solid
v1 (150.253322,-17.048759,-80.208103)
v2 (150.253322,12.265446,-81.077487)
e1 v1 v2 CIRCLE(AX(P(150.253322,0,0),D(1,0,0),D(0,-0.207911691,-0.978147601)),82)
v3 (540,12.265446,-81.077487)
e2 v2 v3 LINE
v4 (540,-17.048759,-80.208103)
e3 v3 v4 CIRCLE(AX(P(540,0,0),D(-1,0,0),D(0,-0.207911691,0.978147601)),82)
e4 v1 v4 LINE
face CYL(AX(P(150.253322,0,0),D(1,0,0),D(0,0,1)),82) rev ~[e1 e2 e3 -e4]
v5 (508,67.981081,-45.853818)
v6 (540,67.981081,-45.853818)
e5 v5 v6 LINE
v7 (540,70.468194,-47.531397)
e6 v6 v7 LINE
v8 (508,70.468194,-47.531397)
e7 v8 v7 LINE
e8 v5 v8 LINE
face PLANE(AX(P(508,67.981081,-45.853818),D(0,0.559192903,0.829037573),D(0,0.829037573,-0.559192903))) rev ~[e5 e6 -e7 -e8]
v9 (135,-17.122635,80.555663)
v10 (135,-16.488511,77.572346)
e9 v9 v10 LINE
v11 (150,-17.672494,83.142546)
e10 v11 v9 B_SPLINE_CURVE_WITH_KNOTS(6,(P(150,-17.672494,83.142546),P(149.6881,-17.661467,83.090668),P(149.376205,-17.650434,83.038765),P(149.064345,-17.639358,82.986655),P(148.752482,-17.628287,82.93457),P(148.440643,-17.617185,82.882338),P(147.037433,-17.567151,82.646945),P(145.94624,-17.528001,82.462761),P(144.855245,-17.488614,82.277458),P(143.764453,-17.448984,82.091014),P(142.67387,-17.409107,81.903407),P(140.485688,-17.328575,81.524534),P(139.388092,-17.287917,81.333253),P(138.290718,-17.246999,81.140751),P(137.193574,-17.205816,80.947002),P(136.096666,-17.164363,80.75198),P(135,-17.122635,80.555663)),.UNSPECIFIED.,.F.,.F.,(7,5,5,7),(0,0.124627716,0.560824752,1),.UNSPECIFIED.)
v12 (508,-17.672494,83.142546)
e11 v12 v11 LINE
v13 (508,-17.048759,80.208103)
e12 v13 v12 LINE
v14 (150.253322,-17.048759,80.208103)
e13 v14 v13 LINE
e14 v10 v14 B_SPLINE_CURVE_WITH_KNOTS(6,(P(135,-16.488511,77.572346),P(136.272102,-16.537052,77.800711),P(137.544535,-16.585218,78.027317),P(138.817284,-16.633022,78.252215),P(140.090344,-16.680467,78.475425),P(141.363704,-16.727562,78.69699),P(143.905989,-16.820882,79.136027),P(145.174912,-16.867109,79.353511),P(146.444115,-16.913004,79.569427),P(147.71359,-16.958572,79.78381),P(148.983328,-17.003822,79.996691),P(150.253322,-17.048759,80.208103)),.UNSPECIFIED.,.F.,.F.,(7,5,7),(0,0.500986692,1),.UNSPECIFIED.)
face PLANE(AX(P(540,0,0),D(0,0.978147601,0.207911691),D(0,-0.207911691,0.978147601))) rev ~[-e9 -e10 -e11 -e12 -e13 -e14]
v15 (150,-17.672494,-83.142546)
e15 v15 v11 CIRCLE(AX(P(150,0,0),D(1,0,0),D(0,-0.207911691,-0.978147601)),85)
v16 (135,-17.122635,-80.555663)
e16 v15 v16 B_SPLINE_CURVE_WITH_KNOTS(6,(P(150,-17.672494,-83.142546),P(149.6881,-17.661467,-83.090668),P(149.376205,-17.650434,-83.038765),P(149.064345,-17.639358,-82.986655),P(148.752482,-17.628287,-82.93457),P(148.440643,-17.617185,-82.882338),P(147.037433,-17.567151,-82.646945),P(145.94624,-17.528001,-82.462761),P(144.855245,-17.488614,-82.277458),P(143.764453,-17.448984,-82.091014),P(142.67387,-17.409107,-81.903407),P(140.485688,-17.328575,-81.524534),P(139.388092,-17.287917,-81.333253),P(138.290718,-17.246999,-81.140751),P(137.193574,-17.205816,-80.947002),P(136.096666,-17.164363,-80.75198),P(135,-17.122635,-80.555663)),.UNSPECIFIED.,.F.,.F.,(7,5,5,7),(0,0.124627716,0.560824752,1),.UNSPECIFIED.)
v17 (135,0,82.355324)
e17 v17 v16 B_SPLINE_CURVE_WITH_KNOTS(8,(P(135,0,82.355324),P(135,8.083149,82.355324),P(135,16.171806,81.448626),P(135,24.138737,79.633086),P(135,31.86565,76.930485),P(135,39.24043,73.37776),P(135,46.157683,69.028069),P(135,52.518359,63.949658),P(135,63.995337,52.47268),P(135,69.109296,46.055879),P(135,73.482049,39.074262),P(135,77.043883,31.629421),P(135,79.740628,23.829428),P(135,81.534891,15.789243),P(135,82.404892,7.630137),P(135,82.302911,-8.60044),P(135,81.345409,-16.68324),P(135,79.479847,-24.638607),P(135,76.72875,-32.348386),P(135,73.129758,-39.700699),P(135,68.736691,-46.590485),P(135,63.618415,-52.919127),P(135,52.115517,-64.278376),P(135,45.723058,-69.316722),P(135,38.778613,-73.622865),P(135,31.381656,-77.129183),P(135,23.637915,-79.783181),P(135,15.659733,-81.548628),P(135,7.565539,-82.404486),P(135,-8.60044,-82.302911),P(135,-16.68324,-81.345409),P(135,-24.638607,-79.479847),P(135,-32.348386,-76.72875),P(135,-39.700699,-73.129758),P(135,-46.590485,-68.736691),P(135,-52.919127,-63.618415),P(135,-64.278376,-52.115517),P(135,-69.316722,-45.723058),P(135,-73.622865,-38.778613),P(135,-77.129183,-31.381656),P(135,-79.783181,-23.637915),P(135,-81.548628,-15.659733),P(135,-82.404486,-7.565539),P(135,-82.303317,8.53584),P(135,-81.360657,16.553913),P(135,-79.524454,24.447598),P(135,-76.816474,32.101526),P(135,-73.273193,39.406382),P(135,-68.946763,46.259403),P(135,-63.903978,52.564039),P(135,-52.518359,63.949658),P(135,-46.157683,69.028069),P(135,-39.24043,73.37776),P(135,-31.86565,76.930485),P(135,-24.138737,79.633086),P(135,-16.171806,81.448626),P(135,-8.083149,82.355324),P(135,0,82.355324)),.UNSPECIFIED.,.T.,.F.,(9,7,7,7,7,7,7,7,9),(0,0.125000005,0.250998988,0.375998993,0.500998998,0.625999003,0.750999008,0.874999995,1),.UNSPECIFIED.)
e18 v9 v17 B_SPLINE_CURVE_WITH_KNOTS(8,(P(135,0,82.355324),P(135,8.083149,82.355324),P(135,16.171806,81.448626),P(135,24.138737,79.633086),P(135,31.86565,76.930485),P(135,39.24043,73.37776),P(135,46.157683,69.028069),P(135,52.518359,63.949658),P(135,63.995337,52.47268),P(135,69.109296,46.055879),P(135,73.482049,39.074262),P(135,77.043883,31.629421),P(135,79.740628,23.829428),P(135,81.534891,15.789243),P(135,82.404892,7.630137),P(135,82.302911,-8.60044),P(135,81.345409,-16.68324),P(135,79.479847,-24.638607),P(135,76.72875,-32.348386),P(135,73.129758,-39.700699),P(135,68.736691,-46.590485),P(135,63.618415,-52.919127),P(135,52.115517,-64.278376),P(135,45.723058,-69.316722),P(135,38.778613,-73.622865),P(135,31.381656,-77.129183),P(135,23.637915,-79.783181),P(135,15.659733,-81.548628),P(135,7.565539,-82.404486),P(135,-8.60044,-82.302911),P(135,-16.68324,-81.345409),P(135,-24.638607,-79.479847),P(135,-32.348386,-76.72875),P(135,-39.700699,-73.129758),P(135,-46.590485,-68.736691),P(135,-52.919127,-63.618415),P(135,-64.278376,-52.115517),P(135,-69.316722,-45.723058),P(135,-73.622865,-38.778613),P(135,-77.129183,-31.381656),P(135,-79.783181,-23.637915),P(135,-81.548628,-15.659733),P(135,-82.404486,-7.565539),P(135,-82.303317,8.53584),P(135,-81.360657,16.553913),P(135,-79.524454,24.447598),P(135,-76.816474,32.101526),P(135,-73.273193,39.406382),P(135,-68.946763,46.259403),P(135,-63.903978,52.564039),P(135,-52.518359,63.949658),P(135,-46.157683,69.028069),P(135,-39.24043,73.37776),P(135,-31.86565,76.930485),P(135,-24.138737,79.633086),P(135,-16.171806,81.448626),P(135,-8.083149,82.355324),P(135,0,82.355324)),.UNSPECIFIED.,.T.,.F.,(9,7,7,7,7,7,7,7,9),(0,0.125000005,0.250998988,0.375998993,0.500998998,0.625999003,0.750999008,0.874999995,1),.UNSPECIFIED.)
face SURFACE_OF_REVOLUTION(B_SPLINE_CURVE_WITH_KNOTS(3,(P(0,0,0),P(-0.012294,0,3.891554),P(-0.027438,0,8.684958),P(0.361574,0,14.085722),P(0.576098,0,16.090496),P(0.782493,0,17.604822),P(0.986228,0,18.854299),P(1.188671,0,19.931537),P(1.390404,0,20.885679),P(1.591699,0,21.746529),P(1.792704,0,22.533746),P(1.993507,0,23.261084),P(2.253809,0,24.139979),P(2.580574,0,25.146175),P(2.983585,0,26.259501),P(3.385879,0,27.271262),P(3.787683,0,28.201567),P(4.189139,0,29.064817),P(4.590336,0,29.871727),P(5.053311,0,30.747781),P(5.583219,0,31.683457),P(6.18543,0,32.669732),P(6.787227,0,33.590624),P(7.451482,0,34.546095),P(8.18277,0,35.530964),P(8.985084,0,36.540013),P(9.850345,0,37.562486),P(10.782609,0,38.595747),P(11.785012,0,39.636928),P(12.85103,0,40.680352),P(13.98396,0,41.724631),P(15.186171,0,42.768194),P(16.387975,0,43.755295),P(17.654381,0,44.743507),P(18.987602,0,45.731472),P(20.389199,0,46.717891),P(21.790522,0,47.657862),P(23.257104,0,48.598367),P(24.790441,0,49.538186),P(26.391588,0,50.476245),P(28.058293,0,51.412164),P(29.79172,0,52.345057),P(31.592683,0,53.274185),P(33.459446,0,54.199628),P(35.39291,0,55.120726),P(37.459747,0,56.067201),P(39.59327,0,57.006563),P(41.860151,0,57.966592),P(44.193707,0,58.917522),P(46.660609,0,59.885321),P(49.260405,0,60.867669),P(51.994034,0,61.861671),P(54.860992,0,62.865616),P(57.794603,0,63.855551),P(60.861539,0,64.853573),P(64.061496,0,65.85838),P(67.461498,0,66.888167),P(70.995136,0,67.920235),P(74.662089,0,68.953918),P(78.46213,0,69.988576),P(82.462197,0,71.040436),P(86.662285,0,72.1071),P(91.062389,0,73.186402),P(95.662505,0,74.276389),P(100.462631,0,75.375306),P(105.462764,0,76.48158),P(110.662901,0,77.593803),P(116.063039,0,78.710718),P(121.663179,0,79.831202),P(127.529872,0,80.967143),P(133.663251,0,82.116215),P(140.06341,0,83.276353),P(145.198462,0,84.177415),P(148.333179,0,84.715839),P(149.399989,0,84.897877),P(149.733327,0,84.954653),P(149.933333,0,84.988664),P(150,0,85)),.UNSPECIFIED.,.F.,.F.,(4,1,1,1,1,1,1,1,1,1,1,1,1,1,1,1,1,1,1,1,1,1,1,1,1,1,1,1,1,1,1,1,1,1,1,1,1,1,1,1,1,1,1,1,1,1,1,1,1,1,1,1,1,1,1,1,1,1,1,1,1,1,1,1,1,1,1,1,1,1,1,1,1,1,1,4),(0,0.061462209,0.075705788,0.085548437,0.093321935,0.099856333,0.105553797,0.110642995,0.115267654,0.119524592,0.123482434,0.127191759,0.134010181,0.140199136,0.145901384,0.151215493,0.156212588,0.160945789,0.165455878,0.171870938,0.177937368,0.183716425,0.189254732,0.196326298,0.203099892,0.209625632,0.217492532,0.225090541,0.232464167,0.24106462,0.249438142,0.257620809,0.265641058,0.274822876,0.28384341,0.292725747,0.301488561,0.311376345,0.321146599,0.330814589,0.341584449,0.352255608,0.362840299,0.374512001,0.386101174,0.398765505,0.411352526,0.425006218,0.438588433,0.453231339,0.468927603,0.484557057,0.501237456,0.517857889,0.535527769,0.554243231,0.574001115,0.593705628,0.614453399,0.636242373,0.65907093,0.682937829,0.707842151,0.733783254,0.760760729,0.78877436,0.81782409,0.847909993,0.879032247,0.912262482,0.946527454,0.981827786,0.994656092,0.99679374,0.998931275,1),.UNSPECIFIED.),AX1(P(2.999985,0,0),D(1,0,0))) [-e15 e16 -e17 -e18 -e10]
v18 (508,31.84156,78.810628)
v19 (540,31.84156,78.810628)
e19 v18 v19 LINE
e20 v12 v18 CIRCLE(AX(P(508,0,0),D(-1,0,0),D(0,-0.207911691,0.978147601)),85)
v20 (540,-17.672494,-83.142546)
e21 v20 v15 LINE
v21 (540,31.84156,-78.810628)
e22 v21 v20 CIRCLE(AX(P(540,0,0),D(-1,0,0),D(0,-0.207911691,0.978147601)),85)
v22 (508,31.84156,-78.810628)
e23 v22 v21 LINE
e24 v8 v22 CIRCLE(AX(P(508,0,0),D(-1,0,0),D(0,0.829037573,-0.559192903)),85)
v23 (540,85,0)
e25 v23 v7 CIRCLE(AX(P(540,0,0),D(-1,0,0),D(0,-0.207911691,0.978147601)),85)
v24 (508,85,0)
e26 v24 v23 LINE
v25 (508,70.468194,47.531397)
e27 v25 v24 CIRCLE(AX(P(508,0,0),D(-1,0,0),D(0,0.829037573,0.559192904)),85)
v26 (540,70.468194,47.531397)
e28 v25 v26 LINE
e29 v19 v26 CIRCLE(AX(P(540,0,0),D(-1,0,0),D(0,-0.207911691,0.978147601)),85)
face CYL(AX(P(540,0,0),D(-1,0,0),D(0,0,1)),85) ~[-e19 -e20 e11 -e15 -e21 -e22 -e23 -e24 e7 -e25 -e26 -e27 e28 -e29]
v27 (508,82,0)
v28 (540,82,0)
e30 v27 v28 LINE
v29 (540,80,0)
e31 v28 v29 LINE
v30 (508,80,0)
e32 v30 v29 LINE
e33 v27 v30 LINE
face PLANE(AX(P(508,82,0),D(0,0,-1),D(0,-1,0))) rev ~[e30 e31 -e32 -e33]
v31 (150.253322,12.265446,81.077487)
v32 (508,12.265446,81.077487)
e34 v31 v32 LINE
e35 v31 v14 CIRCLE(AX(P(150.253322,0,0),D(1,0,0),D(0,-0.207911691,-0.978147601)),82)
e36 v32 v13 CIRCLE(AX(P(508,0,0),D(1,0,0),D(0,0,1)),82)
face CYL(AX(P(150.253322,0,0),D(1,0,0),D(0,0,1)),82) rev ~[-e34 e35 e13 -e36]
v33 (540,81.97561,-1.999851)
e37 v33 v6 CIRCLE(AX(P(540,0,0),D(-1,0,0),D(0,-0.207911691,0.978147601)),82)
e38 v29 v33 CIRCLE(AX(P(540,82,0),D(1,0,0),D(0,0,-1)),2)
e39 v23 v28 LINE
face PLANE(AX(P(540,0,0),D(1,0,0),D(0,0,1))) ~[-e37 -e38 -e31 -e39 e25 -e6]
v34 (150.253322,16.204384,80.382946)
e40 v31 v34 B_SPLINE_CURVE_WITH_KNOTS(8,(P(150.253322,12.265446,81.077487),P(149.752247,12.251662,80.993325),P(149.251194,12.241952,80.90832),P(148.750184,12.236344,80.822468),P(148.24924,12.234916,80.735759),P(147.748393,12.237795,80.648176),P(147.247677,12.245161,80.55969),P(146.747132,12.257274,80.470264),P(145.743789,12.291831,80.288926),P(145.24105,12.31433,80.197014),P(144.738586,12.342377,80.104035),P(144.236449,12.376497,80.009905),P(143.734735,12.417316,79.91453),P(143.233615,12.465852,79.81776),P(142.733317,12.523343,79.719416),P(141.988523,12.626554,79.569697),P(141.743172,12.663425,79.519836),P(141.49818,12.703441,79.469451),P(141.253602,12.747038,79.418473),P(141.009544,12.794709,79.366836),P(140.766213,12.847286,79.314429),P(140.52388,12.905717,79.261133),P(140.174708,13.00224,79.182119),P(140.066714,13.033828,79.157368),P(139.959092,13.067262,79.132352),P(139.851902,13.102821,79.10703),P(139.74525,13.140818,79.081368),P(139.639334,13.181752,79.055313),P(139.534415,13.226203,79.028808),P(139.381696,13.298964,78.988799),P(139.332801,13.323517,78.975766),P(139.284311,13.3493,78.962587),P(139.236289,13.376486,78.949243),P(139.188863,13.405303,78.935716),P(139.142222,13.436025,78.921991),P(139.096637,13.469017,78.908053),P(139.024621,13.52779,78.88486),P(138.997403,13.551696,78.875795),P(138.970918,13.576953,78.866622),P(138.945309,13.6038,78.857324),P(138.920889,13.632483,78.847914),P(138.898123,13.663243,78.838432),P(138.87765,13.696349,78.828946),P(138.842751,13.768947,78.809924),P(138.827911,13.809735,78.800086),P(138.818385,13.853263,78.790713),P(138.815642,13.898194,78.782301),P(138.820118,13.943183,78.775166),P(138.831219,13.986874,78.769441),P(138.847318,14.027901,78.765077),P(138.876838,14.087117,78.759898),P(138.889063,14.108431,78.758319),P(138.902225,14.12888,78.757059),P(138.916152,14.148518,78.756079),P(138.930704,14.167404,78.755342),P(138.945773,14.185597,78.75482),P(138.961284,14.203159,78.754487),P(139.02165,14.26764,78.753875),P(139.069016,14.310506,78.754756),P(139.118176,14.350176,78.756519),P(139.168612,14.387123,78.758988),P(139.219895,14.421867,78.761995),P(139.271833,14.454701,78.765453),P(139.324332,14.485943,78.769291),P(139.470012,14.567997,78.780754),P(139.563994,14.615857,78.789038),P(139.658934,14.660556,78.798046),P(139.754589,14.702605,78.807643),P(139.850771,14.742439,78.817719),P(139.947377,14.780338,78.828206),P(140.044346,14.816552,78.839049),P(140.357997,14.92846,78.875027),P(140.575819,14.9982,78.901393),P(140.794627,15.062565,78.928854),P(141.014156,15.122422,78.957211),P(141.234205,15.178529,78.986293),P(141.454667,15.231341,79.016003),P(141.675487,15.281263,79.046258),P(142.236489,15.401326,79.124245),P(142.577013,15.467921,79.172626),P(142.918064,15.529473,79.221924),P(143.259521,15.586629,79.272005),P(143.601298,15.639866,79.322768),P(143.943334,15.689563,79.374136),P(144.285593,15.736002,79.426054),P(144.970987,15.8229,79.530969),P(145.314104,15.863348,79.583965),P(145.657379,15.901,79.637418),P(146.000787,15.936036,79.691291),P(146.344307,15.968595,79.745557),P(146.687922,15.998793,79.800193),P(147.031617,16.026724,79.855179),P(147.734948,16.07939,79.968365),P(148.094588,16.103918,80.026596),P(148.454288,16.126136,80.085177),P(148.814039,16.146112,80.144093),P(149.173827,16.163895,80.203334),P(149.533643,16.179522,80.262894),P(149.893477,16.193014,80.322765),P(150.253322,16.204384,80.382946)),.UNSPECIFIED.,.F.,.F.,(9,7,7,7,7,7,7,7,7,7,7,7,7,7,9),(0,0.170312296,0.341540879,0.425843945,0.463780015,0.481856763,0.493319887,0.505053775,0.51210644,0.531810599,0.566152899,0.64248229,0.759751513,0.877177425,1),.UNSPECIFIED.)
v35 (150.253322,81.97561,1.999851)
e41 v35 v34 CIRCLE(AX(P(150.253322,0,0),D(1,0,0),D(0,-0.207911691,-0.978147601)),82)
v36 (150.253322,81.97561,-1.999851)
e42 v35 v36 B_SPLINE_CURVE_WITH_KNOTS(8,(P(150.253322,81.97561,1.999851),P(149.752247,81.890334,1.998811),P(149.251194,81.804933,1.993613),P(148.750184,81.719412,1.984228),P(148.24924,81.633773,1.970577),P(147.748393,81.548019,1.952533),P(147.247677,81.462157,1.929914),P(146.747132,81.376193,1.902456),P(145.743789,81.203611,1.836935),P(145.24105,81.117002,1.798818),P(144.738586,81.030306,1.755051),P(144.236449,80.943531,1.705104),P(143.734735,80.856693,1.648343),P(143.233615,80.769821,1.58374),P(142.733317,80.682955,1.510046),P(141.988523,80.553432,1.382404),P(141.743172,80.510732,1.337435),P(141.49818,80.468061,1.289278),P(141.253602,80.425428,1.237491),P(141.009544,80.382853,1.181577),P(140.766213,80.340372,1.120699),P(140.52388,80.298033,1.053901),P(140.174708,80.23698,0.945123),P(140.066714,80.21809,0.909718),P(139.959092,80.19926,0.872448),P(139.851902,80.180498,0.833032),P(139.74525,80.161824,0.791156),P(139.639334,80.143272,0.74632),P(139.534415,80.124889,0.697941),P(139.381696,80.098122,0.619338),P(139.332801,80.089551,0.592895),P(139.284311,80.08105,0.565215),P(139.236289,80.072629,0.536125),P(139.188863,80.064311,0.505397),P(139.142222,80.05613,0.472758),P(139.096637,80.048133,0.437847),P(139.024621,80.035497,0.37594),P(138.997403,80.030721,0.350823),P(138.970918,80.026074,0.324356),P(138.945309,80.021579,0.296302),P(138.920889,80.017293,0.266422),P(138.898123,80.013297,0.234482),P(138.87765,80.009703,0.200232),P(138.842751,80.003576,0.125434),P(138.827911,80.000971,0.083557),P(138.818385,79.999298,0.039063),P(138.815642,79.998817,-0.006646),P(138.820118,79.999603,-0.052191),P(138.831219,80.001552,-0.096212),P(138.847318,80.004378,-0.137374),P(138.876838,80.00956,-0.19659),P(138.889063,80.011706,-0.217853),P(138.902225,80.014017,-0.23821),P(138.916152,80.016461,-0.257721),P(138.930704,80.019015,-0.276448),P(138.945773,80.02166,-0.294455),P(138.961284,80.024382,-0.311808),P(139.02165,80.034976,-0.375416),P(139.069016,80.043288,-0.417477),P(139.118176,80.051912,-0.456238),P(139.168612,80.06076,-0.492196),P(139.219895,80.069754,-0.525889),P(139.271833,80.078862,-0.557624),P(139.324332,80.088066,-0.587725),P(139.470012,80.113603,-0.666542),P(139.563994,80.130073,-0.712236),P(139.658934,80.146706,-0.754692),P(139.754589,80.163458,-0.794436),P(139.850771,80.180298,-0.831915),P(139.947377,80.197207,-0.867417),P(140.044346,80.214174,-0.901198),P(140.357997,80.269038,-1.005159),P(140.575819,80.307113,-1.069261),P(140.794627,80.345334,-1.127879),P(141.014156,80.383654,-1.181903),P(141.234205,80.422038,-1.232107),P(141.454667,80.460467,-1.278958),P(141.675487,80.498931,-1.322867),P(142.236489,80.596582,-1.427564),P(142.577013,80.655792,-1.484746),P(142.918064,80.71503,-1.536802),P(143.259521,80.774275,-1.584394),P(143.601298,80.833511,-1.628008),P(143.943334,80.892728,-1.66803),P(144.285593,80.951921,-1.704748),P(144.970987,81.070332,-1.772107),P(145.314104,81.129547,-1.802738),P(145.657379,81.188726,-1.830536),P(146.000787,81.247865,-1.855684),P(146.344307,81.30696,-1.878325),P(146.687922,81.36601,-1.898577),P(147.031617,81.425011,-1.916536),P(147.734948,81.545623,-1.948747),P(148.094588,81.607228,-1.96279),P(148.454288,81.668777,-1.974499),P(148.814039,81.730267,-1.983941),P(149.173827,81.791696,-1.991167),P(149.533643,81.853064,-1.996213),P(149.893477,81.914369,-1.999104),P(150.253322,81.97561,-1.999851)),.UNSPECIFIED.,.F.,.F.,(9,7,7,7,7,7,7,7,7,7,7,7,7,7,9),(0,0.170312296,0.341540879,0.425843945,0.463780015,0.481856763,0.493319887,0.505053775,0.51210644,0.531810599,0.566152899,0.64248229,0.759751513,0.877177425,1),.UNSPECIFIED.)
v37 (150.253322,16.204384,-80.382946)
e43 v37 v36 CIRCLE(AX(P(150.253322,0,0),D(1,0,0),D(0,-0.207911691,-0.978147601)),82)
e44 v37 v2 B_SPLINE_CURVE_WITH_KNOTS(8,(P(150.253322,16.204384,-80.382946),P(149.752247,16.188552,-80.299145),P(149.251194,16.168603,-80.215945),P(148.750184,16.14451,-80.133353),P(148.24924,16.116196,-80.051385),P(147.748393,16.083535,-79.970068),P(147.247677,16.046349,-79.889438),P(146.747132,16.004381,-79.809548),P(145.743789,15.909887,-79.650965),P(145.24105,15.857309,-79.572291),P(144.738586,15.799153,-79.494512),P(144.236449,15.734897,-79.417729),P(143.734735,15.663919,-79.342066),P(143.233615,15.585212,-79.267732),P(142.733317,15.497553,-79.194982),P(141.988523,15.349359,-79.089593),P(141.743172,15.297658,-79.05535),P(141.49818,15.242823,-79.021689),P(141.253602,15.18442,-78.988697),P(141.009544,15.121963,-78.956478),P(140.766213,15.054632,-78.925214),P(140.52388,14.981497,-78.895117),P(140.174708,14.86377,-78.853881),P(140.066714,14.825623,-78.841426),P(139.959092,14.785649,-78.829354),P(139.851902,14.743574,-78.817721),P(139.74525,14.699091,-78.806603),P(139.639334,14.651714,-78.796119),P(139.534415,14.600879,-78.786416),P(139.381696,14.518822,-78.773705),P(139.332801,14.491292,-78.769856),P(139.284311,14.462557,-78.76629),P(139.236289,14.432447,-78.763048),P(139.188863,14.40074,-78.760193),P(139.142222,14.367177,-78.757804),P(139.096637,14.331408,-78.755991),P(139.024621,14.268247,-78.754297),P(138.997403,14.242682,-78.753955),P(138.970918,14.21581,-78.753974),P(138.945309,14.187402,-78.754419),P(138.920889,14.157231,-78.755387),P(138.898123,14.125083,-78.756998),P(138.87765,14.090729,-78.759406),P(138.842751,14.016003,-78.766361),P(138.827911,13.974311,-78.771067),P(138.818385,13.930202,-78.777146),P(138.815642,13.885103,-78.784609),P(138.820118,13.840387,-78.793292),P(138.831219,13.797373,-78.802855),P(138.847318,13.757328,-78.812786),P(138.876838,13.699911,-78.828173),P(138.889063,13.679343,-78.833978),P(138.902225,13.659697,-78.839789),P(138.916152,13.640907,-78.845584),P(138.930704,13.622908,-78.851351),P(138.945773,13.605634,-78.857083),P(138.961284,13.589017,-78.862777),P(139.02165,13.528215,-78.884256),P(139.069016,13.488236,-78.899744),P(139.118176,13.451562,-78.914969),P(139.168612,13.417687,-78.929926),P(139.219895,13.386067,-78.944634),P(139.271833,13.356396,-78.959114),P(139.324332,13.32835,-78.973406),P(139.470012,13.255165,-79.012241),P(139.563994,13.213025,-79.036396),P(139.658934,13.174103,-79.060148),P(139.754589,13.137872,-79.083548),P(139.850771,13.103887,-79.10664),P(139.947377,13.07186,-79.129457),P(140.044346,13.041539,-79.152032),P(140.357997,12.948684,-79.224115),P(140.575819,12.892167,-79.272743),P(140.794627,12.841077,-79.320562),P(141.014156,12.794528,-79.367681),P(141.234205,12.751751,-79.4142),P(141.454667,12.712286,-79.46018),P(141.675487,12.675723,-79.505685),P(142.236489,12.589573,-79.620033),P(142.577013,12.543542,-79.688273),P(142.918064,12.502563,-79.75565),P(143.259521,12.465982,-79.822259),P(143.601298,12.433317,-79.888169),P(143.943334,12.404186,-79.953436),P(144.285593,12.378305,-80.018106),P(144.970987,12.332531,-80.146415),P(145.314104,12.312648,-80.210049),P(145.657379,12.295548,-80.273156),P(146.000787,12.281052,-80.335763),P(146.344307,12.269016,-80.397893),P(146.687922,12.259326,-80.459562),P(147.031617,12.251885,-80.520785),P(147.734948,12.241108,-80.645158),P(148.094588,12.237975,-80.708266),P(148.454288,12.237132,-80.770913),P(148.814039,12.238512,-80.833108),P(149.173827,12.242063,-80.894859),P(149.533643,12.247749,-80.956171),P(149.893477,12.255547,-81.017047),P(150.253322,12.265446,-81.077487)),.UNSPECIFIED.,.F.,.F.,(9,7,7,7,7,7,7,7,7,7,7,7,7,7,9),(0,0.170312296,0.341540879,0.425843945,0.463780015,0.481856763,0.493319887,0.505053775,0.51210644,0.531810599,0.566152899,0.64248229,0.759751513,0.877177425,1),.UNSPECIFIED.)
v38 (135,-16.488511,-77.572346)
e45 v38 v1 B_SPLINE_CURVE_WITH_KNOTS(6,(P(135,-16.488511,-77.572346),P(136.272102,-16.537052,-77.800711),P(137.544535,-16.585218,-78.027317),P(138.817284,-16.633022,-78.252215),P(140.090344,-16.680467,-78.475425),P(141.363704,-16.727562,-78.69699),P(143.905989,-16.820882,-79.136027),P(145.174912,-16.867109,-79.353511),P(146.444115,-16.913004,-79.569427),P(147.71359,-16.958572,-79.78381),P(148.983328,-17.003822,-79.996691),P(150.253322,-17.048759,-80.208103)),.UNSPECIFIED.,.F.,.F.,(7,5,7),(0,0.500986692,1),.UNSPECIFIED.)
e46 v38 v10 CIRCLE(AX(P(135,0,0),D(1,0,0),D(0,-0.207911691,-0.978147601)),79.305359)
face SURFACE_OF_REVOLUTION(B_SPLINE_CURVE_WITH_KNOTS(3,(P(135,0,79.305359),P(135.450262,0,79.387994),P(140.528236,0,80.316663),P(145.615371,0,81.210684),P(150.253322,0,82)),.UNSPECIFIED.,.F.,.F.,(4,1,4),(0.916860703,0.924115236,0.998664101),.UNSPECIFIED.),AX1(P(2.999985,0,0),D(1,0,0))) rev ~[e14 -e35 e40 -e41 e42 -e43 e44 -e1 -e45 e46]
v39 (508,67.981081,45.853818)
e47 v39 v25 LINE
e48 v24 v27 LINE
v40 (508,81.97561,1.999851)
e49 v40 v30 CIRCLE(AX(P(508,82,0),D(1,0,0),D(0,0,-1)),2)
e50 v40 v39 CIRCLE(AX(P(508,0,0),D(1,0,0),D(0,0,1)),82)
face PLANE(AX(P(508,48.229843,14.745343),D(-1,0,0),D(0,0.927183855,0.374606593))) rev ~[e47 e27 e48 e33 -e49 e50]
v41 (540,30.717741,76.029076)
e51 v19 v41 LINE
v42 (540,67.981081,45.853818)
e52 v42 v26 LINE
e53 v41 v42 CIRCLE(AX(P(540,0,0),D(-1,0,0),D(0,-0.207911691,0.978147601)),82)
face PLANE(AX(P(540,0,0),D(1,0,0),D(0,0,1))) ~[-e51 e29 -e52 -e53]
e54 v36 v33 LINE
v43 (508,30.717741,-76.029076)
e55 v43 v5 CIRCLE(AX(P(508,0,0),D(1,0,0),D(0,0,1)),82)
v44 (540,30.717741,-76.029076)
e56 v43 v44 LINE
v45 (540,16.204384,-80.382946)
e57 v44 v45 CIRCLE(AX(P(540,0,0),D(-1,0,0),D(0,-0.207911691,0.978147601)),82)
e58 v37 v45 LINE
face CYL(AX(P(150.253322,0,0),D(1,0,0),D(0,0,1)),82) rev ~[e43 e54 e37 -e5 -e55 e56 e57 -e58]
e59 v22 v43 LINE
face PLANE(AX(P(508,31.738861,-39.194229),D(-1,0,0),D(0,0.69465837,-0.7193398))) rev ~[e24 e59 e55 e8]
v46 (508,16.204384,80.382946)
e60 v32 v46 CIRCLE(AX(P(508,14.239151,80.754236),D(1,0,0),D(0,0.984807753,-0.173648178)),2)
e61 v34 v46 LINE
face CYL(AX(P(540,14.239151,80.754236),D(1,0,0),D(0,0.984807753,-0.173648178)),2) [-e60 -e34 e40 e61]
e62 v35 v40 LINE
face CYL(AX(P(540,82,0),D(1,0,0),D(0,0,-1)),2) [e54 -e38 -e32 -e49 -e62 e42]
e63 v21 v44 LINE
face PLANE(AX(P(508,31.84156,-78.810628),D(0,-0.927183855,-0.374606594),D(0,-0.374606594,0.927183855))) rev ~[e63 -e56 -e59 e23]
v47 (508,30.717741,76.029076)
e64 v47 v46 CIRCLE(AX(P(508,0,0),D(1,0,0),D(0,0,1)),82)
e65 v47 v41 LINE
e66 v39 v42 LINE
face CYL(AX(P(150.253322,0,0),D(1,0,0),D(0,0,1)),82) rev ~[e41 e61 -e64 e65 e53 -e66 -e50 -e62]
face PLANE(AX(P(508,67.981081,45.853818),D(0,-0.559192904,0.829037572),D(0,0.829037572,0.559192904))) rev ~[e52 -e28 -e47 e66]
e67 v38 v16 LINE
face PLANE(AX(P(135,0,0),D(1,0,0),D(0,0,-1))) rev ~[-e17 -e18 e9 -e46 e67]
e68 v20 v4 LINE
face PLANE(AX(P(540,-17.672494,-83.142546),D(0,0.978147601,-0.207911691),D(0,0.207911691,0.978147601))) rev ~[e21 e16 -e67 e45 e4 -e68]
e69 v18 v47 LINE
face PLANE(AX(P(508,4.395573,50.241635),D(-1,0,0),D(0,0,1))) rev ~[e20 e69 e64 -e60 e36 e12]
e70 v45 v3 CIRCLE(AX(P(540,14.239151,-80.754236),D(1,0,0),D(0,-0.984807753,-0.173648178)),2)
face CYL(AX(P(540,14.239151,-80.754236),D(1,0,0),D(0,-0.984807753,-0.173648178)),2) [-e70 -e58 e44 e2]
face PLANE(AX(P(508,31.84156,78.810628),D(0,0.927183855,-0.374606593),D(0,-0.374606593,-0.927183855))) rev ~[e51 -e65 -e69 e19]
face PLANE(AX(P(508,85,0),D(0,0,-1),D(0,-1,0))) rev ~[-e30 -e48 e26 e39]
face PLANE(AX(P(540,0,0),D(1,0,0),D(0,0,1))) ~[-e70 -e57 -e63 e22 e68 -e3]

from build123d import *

# Parameters (mm, degrees)
CUT_EXTRUDE4_REACH              = 555.223
CUT_EXTRUDE1_DEPTH              = 5
BOSS_EXTRUDE1_REACH             = 555.223
SKETCH10_R                      = 2
CIRPATTERN1_COUNT               = 2
CIRPATTERN1_ANGLE               = 80
CIRPATTERN1_THE_OTHER_WAY_COUNT = 2
CIRPATTERN1_THE_OTHER_WAY_ANGLE = 80
F_2_0MM_DOWEL_HOLE1_D           = 2
F_2_0MM_DOWEL_HOLE1_ON_FACE_2_D = 2
F_2_0MM_DOWEL_HOLE1_ON_FACE_3_D = 2
F_2_0MM_DOWEL_HOLE1_ON_FACE_4_D = 2
CUT_EXTRUDE5_START              = -32
CUT_EXTRUDE5_DEPTH              = 32
CIRPATTERN2_COUNT               = 3
CIRPATTERN2_ANGLE               = 136
SKETCH19_R                      = 118.982211047
CUT_EXTRUDE6_DEPTH              = 180


with BuildPart() as part:
    # Sketch1 → Revolve5 (revolve)
    with BuildSketch(Plane.XY, mode=Mode.PRIVATE) as revolve5_sk:
        with BuildLine():
            Line((540, 85), (150, 85))
            add(Edge.make_bspline(
                [(0, 0), (-0.012294225, 3.891554312), (-0.027437579, 8.684958126), (0.361573767, 14.085722357), (0.576098453, 16.090496183), (0.782493435, 17.604822189), (0.986227589, 18.854298664), (1.188670863, 19.931536976), (1.390404268, 20.885679324), (1.591698837, 21.746529091), (1.792703864, 22.533746067), (1.993507167, 23.261083862), (2.253808552, 24.139979457), (2.580573656, 25.146175179), (2.983585386, 26.259501153), (3.385879093, 27.271261727), (3.787683439, 28.201566994), (4.189138614, 29.064817448), (4.590335615, 29.871726974), (5.05331092, 30.74778076), (5.583218589, 31.683457084), (6.185429632, 32.669732492), (6.787226927, 33.590624245), (7.451481511, 34.546094958), (8.182770444, 35.530963646), (8.985083876, 36.540013411), (9.850344603, 37.562485558), (10.782608842, 38.595746542), (11.785011743, 39.636928062), (12.851029789, 40.680352273), (13.983960321, 41.72463117), (15.186170623, 42.768194245), (16.387975322, 43.755294725), (17.654380903, 44.743506811), (18.987602276, 45.731471932), (20.389198856, 46.717890971), (21.790522044, 47.657861765), (23.257103599, 48.59836715), (24.790441056, 49.538186318), (26.391587757, 50.476245251), (28.05829275, 51.412163763), (29.791720393, 52.345056651), (31.59268286, 53.274185034), (33.459445798, 54.199628429), (35.392909821, 55.120726442), (37.459746918, 56.067201212), (39.59327023, 57.006562681), (41.860151348, 57.96659169), (44.193707143, 58.917521836), (46.660609333, 59.885320784), (49.260404933, 60.867669295), (51.99403381, 61.861671206), (54.860992187, 62.865616104), (57.794602823, 63.85555089), (60.861539281, 64.853573463), (64.06149587, 65.858380358), (67.461497598, 66.888166734), (70.995135905, 67.920234745), (74.662088876, 68.953918346), (78.462130407, 69.988575944), (82.462197069, 71.040436012), (86.662284614, 72.107100186), (91.062388571, 73.18640193), (95.662505252, 74.276388609), (100.462631288, 75.375305679), (105.462763855, 76.481579791), (110.662900527, 77.593803027), (116.063039296, 78.710717608), (121.663178505, 79.831201671), (127.529872228, 80.967142806), (133.663251007, 82.116215238), (140.063409966, 83.276352633), (145.198462089, 84.177415336), (148.333178957, 84.715838785), (149.39998937, 84.897876633), (149.733326587, 84.954653305), (149.933332963, 84.98866355), (150, 85)],
                knots=[0, 0, 0, 0, 0.061462209, 0.075705788, 0.085548437, 0.093321935, 0.099856333, 0.105553797, 0.110642995, 0.115267654, 0.119524592, 0.123482434, 0.127191759, 0.134010181, 0.140199136, 0.145901384, 0.151215493, 0.156212588, 0.160945789, 0.165455878, 0.171870938, 0.177937368, 0.183716425, 0.189254732, 0.196326298, 0.203099892, 0.209625632, 0.217492532, 0.225090541, 0.232464167, 0.24106462, 0.249438142, 0.257620809, 0.265641058, 0.274822876, 0.28384341, 0.292725747, 0.301488561, 0.311376345, 0.321146599, 0.330814589, 0.341584449, 0.352255608, 0.362840299, 0.374512001, 0.386101174, 0.398765505, 0.411352526, 0.425006218, 0.438588433, 0.453231339, 0.468927603, 0.484557057, 0.501237456, 0.517857889, 0.535527769, 0.554243231, 0.574001115, 0.593705628, 0.614453399, 0.636242373, 0.65907093, 0.682937829, 0.707842151, 0.733783254, 0.760760729, 0.78877436, 0.81782409, 0.847909993, 0.879032247, 0.912262482, 0.946527454, 0.981827786, 0.994656092, 0.99679374, 0.998931275, 1, 1, 1, 1], degree=3))
            Line((0, 0), (2.999985029, 0))
            Line((2.999985029, 0), (2.999985029, 0.009477573))
            add(Edge.make_bspline(
                [(2.999985029, 0.009477573), (2.993793366, 1.969356524), (2.981962234, 5.911210338), (3.144727077, 11.691517384), (3.670861531, 17.326178467), (4.819198941, 22.729714595), (6.752012755, 27.815986079), (10.434016108, 34.068947754), (16.885973109, 40.769818613), (26.31149284, 47.219276633), (36.588463571, 52.532925143), (47.339293153, 57.041613966), (62.05269101, 62.270744564), (80.889819608, 67.717439736), (103.802651174, 73.170901437), (119.646381092, 76.401254352), (128.250826275, 78.04455103), (129.150186585, 78.215050111), (129.599928532, 78.3)],
                knots=[0, 0, 0, 0, 0.031208253, 0.062416506, 0.093624758, 0.124833011, 0.156041264, 0.187249517, 0.249666023, 0.312082528, 0.374499034, 0.43691554, 0.499332045, 0.624165056, 0.748998068, 0.873333508, 0.88058804, 0.887842573, 0.887842573, 0.887842573, 0.887842573], degree=3))
            add(Edge.make_bspline(
                [(129.599928532, 78.3), (130.04967048, 78.384949889), (130.94927796, 78.554250366), (132.299119739, 78.806440107), (133.649347026, 79.056894297), (134.549738344, 79.222723073), (135, 79.305358628)],
                knots=[0.887842573, 0.887842573, 0.887842573, 0.887842573, 0.895097105, 0.902351638, 0.90960617, 0.916860703, 0.916860703, 0.916860703, 0.916860703], degree=3))
            add(Edge.make_bspline(
                [(135, 79.305358628), (135.450261656, 79.387994183), (140.528235702, 80.316663108), (145.615370758, 81.210683778), (150.253322265, 82)],
                knots=[0.916860703, 0.916860703, 0.916860703, 0.916860703, 0.924115235, 0.99866409, 0.99866409, 0.99866409, 0.99866409], degree=3))
            Line((150.253322265, 82), (540, 82))
            Line((540, 82), (540, 85))
        make_face()
        with BuildLine():
            Line((135, 78.3), (135, 79.305358628))
            add(Edge.make_bspline(
                [(129.599928532, 78.3), (130.04967048, 78.384949889), (130.94927796, 78.554250366), (132.299119739, 78.806440107), (133.649347026, 79.056894297), (134.549738344, 79.222723073), (135, 79.305358628)],
                knots=[0.887842573, 0.887842573, 0.887842573, 0.887842573, 0.895097105, 0.902351638, 0.90960617, 0.916860703, 0.916860703, 0.916860703, 0.916860703], degree=3))
            Line((129.599928532, 78.3), (135, 78.3))
        make_face()
    revolve(revolve5_sk.sketch.rotate(Axis((2.999985029, 0, 0), (1, 0, 0)), 90), axis=Axis((2.999985029, 0, 0), (1, 0, 0)))

    # Cut-Extrude4: up to this face of the body (flat: up to its plane)
    cut_extrude4_end = Plane(part.part.faces().sort_by_distance((135, 0, -78.524309427))[0])
    # Sketch12 → Cut-Extrude4 (cut, up to the picked face)
    with BuildSketch(Plane(origin=(540, 0, 0), x_dir=(0, 0, -1), z_dir=(1, 0, 0)), mode=Mode.PRIVATE) as cut_extrude4_sk1:
        with BuildLine():
            Line((0, 0), (-83.142546062, -17.67249372))
            ThreePointArc((-83.142546062, -17.67249372), (0, -85), (83.142546062, -17.67249372))
            Line((83.142546062, -17.67249372), (0, 0))
        make_face()
    cut_extrude4_tool1 = split(extrude(cut_extrude4_sk1.sketch, amount=-CUT_EXTRUDE4_REACH, mode=Mode.PRIVATE), bisect_by=cut_extrude4_end, keep=Keep.BOTH, mode=Mode.PRIVATE)
    add(cut_extrude4_tool1.solids().sort_by(Axis((540, -40.71553, 0), (-1, 0, 0)))[0], mode=Mode.SUBTRACT)

    # Sketch4 → Cut-Extrude1 (cut)
    with BuildSketch(Plane(origin=(135, 0, 0), x_dir=(0, 0, -1), z_dir=(1, 0, 0))):
        with BuildLine():
            ThreePointArc((40.257565708, -71.845165599), (66.314386739, -48.834429741), (80.55566273, -17.122634693))
            Line((80.55566273, -17.122634693), (77.572346267, -16.488511203))
            Line((77.572346267, -16.488511203), (76.588957137, -16.279485391))
            ThreePointArc((76.588957137, -16.279485391), (64.593537692, -44.255676341), (42.836139649, -65.543536218))
            ThreePointArc((42.836139649, -65.543536218), (41.586655777, -68.710638003), (40.257565708, -71.845165599))
        make_face()
    extrude(amount=-CUT_EXTRUDE1_DEPTH, mode=Mode.SUBTRACT)

    # Sketch10 → Boss-Extrude1 (add, up to next)
    with BuildSketch(Plane(origin=(540, 0, 0), x_dir=(0, 0, -1), z_dir=(1, 0, 0)), mode=Mode.PRIVATE) as boss_extrude1_sk1:
        with Locations((0, 82)):
            Circle(SKETCH10_R)
    boss_extrude1_tool1 = extrude(boss_extrude1_sk1.sketch, amount=-BOSS_EXTRUDE1_REACH, mode=Mode.PRIVATE) - part.part
    boss_extrude1 = boss_extrude1_tool1.solids().sort_by_distance((540, 82, 0))[0]
    add(boss_extrude1)

    # CirPattern1: Boss-Extrude1 ×2 about axis
    cirpattern1_axis = Axis((2.999985029, 0, 0), (-1, 0, 0))
    for i in range(1, CIRPATTERN1_COUNT):
        add(boss_extrude1.rotate(cirpattern1_axis, i * CIRPATTERN1_ANGLE / (CIRPATTERN1_COUNT - 1)))

    # CirPattern1 the other way: Boss-Extrude1 ×2 about axis
    cirpattern1_the_other_way_axis = Axis((2.999985029, 0, 0), (1, 0, 0))
    for i in range(1, CIRPATTERN1_THE_OTHER_WAY_COUNT):
        add(boss_extrude1.rotate(cirpattern1_the_other_way_axis, i * CIRPATTERN1_THE_OTHER_WAY_ANGLE / (CIRPATTERN1_THE_OTHER_WAY_COUNT - 1)))

    # Ø2.0mm Dowel Hole1 (through all)
    with Locations(Plane(origin=(132.5, -78.3, 0), x_dir=(0, 0, 1), z_dir=(0, 1, 0))):
        with Locations((0, 0)):
            Hole(F_2_0MM_DOWEL_HOLE1_D / 2)

    # Ø2.0mm Dowel Hole1 on face 2 (through all)
    with Locations(Plane(origin=(132.5, 0, 78.3), x_dir=(-1, 0, 0), z_dir=(0, 0, -1))):
        with Locations((0, 0)):
            Hole(F_2_0MM_DOWEL_HOLE1_ON_FACE_2_D / 2)

    # Ø2.0mm Dowel Hole1 on face 3 (through all)
    with Locations(Plane(origin=(132.5, 78.3, 0), x_dir=(0, 0, -1), z_dir=(0, -1, 0))):
        with Locations((0, 0)):
            Hole(F_2_0MM_DOWEL_HOLE1_ON_FACE_3_D / 2)

    # Ø2.0mm Dowel Hole1 on face 4 (through all)
    with Locations(Plane(origin=(132.5, 0, -78.3), x_dir=(1, 0, 0), z_dir=(0, 0, 1))):
        with Locations((0, 0)):
            Hole(F_2_0MM_DOWEL_HOLE1_ON_FACE_4_D / 2)

    # Sketch18 → Cut-Extrude5 (cut)
    with BuildSketch(Plane(origin=(540, 0, 0), x_dir=(0, 0, -1), z_dir=(1, 0, 0)).offset(CUT_EXTRUDE5_START)):
        with BuildLine():
            Line((-80.20810326, -17.048758647), (-83.142546062, -17.67249372))
            ThreePointArc((-83.142546062, -17.67249372), (-84.676549338, 7.408238134), (-78.810627638, 31.84156044))
            Line((-78.810627638, 31.84156044), (-76.029076074, 30.71774066))
            Line((-76.029076074, 30.71774066), (0, 0))
            Line((0, 0), (-80.20810326, -17.048758647))
        make_face()
    cut_extrude5 = extrude(amount=CUT_EXTRUDE5_DEPTH, mode=Mode.SUBTRACT)

    # CirPattern2: Cut-Extrude5 ×3 about axis
    cirpattern2_axis = Axis((0, 0, 0), (-1, 0, 0))
    for i in range(1, CIRPATTERN2_COUNT):
        add(cut_extrude5.rotate(cirpattern2_axis, i * CIRPATTERN2_ANGLE / (CIRPATTERN2_COUNT - 1)), mode=Mode.SUBTRACT)

    # Sketch19 → Cut-Extrude6 (cut)
    with BuildSketch(Plane(origin=(135, 0, 0), x_dir=(0, 0, -1), z_dir=(1, 0, 0))):
        Circle(SKETCH19_R)
    extrude(amount=-CUT_EXTRUDE6_DEPTH, mode=Mode.SUBTRACT)


solid = part.part
